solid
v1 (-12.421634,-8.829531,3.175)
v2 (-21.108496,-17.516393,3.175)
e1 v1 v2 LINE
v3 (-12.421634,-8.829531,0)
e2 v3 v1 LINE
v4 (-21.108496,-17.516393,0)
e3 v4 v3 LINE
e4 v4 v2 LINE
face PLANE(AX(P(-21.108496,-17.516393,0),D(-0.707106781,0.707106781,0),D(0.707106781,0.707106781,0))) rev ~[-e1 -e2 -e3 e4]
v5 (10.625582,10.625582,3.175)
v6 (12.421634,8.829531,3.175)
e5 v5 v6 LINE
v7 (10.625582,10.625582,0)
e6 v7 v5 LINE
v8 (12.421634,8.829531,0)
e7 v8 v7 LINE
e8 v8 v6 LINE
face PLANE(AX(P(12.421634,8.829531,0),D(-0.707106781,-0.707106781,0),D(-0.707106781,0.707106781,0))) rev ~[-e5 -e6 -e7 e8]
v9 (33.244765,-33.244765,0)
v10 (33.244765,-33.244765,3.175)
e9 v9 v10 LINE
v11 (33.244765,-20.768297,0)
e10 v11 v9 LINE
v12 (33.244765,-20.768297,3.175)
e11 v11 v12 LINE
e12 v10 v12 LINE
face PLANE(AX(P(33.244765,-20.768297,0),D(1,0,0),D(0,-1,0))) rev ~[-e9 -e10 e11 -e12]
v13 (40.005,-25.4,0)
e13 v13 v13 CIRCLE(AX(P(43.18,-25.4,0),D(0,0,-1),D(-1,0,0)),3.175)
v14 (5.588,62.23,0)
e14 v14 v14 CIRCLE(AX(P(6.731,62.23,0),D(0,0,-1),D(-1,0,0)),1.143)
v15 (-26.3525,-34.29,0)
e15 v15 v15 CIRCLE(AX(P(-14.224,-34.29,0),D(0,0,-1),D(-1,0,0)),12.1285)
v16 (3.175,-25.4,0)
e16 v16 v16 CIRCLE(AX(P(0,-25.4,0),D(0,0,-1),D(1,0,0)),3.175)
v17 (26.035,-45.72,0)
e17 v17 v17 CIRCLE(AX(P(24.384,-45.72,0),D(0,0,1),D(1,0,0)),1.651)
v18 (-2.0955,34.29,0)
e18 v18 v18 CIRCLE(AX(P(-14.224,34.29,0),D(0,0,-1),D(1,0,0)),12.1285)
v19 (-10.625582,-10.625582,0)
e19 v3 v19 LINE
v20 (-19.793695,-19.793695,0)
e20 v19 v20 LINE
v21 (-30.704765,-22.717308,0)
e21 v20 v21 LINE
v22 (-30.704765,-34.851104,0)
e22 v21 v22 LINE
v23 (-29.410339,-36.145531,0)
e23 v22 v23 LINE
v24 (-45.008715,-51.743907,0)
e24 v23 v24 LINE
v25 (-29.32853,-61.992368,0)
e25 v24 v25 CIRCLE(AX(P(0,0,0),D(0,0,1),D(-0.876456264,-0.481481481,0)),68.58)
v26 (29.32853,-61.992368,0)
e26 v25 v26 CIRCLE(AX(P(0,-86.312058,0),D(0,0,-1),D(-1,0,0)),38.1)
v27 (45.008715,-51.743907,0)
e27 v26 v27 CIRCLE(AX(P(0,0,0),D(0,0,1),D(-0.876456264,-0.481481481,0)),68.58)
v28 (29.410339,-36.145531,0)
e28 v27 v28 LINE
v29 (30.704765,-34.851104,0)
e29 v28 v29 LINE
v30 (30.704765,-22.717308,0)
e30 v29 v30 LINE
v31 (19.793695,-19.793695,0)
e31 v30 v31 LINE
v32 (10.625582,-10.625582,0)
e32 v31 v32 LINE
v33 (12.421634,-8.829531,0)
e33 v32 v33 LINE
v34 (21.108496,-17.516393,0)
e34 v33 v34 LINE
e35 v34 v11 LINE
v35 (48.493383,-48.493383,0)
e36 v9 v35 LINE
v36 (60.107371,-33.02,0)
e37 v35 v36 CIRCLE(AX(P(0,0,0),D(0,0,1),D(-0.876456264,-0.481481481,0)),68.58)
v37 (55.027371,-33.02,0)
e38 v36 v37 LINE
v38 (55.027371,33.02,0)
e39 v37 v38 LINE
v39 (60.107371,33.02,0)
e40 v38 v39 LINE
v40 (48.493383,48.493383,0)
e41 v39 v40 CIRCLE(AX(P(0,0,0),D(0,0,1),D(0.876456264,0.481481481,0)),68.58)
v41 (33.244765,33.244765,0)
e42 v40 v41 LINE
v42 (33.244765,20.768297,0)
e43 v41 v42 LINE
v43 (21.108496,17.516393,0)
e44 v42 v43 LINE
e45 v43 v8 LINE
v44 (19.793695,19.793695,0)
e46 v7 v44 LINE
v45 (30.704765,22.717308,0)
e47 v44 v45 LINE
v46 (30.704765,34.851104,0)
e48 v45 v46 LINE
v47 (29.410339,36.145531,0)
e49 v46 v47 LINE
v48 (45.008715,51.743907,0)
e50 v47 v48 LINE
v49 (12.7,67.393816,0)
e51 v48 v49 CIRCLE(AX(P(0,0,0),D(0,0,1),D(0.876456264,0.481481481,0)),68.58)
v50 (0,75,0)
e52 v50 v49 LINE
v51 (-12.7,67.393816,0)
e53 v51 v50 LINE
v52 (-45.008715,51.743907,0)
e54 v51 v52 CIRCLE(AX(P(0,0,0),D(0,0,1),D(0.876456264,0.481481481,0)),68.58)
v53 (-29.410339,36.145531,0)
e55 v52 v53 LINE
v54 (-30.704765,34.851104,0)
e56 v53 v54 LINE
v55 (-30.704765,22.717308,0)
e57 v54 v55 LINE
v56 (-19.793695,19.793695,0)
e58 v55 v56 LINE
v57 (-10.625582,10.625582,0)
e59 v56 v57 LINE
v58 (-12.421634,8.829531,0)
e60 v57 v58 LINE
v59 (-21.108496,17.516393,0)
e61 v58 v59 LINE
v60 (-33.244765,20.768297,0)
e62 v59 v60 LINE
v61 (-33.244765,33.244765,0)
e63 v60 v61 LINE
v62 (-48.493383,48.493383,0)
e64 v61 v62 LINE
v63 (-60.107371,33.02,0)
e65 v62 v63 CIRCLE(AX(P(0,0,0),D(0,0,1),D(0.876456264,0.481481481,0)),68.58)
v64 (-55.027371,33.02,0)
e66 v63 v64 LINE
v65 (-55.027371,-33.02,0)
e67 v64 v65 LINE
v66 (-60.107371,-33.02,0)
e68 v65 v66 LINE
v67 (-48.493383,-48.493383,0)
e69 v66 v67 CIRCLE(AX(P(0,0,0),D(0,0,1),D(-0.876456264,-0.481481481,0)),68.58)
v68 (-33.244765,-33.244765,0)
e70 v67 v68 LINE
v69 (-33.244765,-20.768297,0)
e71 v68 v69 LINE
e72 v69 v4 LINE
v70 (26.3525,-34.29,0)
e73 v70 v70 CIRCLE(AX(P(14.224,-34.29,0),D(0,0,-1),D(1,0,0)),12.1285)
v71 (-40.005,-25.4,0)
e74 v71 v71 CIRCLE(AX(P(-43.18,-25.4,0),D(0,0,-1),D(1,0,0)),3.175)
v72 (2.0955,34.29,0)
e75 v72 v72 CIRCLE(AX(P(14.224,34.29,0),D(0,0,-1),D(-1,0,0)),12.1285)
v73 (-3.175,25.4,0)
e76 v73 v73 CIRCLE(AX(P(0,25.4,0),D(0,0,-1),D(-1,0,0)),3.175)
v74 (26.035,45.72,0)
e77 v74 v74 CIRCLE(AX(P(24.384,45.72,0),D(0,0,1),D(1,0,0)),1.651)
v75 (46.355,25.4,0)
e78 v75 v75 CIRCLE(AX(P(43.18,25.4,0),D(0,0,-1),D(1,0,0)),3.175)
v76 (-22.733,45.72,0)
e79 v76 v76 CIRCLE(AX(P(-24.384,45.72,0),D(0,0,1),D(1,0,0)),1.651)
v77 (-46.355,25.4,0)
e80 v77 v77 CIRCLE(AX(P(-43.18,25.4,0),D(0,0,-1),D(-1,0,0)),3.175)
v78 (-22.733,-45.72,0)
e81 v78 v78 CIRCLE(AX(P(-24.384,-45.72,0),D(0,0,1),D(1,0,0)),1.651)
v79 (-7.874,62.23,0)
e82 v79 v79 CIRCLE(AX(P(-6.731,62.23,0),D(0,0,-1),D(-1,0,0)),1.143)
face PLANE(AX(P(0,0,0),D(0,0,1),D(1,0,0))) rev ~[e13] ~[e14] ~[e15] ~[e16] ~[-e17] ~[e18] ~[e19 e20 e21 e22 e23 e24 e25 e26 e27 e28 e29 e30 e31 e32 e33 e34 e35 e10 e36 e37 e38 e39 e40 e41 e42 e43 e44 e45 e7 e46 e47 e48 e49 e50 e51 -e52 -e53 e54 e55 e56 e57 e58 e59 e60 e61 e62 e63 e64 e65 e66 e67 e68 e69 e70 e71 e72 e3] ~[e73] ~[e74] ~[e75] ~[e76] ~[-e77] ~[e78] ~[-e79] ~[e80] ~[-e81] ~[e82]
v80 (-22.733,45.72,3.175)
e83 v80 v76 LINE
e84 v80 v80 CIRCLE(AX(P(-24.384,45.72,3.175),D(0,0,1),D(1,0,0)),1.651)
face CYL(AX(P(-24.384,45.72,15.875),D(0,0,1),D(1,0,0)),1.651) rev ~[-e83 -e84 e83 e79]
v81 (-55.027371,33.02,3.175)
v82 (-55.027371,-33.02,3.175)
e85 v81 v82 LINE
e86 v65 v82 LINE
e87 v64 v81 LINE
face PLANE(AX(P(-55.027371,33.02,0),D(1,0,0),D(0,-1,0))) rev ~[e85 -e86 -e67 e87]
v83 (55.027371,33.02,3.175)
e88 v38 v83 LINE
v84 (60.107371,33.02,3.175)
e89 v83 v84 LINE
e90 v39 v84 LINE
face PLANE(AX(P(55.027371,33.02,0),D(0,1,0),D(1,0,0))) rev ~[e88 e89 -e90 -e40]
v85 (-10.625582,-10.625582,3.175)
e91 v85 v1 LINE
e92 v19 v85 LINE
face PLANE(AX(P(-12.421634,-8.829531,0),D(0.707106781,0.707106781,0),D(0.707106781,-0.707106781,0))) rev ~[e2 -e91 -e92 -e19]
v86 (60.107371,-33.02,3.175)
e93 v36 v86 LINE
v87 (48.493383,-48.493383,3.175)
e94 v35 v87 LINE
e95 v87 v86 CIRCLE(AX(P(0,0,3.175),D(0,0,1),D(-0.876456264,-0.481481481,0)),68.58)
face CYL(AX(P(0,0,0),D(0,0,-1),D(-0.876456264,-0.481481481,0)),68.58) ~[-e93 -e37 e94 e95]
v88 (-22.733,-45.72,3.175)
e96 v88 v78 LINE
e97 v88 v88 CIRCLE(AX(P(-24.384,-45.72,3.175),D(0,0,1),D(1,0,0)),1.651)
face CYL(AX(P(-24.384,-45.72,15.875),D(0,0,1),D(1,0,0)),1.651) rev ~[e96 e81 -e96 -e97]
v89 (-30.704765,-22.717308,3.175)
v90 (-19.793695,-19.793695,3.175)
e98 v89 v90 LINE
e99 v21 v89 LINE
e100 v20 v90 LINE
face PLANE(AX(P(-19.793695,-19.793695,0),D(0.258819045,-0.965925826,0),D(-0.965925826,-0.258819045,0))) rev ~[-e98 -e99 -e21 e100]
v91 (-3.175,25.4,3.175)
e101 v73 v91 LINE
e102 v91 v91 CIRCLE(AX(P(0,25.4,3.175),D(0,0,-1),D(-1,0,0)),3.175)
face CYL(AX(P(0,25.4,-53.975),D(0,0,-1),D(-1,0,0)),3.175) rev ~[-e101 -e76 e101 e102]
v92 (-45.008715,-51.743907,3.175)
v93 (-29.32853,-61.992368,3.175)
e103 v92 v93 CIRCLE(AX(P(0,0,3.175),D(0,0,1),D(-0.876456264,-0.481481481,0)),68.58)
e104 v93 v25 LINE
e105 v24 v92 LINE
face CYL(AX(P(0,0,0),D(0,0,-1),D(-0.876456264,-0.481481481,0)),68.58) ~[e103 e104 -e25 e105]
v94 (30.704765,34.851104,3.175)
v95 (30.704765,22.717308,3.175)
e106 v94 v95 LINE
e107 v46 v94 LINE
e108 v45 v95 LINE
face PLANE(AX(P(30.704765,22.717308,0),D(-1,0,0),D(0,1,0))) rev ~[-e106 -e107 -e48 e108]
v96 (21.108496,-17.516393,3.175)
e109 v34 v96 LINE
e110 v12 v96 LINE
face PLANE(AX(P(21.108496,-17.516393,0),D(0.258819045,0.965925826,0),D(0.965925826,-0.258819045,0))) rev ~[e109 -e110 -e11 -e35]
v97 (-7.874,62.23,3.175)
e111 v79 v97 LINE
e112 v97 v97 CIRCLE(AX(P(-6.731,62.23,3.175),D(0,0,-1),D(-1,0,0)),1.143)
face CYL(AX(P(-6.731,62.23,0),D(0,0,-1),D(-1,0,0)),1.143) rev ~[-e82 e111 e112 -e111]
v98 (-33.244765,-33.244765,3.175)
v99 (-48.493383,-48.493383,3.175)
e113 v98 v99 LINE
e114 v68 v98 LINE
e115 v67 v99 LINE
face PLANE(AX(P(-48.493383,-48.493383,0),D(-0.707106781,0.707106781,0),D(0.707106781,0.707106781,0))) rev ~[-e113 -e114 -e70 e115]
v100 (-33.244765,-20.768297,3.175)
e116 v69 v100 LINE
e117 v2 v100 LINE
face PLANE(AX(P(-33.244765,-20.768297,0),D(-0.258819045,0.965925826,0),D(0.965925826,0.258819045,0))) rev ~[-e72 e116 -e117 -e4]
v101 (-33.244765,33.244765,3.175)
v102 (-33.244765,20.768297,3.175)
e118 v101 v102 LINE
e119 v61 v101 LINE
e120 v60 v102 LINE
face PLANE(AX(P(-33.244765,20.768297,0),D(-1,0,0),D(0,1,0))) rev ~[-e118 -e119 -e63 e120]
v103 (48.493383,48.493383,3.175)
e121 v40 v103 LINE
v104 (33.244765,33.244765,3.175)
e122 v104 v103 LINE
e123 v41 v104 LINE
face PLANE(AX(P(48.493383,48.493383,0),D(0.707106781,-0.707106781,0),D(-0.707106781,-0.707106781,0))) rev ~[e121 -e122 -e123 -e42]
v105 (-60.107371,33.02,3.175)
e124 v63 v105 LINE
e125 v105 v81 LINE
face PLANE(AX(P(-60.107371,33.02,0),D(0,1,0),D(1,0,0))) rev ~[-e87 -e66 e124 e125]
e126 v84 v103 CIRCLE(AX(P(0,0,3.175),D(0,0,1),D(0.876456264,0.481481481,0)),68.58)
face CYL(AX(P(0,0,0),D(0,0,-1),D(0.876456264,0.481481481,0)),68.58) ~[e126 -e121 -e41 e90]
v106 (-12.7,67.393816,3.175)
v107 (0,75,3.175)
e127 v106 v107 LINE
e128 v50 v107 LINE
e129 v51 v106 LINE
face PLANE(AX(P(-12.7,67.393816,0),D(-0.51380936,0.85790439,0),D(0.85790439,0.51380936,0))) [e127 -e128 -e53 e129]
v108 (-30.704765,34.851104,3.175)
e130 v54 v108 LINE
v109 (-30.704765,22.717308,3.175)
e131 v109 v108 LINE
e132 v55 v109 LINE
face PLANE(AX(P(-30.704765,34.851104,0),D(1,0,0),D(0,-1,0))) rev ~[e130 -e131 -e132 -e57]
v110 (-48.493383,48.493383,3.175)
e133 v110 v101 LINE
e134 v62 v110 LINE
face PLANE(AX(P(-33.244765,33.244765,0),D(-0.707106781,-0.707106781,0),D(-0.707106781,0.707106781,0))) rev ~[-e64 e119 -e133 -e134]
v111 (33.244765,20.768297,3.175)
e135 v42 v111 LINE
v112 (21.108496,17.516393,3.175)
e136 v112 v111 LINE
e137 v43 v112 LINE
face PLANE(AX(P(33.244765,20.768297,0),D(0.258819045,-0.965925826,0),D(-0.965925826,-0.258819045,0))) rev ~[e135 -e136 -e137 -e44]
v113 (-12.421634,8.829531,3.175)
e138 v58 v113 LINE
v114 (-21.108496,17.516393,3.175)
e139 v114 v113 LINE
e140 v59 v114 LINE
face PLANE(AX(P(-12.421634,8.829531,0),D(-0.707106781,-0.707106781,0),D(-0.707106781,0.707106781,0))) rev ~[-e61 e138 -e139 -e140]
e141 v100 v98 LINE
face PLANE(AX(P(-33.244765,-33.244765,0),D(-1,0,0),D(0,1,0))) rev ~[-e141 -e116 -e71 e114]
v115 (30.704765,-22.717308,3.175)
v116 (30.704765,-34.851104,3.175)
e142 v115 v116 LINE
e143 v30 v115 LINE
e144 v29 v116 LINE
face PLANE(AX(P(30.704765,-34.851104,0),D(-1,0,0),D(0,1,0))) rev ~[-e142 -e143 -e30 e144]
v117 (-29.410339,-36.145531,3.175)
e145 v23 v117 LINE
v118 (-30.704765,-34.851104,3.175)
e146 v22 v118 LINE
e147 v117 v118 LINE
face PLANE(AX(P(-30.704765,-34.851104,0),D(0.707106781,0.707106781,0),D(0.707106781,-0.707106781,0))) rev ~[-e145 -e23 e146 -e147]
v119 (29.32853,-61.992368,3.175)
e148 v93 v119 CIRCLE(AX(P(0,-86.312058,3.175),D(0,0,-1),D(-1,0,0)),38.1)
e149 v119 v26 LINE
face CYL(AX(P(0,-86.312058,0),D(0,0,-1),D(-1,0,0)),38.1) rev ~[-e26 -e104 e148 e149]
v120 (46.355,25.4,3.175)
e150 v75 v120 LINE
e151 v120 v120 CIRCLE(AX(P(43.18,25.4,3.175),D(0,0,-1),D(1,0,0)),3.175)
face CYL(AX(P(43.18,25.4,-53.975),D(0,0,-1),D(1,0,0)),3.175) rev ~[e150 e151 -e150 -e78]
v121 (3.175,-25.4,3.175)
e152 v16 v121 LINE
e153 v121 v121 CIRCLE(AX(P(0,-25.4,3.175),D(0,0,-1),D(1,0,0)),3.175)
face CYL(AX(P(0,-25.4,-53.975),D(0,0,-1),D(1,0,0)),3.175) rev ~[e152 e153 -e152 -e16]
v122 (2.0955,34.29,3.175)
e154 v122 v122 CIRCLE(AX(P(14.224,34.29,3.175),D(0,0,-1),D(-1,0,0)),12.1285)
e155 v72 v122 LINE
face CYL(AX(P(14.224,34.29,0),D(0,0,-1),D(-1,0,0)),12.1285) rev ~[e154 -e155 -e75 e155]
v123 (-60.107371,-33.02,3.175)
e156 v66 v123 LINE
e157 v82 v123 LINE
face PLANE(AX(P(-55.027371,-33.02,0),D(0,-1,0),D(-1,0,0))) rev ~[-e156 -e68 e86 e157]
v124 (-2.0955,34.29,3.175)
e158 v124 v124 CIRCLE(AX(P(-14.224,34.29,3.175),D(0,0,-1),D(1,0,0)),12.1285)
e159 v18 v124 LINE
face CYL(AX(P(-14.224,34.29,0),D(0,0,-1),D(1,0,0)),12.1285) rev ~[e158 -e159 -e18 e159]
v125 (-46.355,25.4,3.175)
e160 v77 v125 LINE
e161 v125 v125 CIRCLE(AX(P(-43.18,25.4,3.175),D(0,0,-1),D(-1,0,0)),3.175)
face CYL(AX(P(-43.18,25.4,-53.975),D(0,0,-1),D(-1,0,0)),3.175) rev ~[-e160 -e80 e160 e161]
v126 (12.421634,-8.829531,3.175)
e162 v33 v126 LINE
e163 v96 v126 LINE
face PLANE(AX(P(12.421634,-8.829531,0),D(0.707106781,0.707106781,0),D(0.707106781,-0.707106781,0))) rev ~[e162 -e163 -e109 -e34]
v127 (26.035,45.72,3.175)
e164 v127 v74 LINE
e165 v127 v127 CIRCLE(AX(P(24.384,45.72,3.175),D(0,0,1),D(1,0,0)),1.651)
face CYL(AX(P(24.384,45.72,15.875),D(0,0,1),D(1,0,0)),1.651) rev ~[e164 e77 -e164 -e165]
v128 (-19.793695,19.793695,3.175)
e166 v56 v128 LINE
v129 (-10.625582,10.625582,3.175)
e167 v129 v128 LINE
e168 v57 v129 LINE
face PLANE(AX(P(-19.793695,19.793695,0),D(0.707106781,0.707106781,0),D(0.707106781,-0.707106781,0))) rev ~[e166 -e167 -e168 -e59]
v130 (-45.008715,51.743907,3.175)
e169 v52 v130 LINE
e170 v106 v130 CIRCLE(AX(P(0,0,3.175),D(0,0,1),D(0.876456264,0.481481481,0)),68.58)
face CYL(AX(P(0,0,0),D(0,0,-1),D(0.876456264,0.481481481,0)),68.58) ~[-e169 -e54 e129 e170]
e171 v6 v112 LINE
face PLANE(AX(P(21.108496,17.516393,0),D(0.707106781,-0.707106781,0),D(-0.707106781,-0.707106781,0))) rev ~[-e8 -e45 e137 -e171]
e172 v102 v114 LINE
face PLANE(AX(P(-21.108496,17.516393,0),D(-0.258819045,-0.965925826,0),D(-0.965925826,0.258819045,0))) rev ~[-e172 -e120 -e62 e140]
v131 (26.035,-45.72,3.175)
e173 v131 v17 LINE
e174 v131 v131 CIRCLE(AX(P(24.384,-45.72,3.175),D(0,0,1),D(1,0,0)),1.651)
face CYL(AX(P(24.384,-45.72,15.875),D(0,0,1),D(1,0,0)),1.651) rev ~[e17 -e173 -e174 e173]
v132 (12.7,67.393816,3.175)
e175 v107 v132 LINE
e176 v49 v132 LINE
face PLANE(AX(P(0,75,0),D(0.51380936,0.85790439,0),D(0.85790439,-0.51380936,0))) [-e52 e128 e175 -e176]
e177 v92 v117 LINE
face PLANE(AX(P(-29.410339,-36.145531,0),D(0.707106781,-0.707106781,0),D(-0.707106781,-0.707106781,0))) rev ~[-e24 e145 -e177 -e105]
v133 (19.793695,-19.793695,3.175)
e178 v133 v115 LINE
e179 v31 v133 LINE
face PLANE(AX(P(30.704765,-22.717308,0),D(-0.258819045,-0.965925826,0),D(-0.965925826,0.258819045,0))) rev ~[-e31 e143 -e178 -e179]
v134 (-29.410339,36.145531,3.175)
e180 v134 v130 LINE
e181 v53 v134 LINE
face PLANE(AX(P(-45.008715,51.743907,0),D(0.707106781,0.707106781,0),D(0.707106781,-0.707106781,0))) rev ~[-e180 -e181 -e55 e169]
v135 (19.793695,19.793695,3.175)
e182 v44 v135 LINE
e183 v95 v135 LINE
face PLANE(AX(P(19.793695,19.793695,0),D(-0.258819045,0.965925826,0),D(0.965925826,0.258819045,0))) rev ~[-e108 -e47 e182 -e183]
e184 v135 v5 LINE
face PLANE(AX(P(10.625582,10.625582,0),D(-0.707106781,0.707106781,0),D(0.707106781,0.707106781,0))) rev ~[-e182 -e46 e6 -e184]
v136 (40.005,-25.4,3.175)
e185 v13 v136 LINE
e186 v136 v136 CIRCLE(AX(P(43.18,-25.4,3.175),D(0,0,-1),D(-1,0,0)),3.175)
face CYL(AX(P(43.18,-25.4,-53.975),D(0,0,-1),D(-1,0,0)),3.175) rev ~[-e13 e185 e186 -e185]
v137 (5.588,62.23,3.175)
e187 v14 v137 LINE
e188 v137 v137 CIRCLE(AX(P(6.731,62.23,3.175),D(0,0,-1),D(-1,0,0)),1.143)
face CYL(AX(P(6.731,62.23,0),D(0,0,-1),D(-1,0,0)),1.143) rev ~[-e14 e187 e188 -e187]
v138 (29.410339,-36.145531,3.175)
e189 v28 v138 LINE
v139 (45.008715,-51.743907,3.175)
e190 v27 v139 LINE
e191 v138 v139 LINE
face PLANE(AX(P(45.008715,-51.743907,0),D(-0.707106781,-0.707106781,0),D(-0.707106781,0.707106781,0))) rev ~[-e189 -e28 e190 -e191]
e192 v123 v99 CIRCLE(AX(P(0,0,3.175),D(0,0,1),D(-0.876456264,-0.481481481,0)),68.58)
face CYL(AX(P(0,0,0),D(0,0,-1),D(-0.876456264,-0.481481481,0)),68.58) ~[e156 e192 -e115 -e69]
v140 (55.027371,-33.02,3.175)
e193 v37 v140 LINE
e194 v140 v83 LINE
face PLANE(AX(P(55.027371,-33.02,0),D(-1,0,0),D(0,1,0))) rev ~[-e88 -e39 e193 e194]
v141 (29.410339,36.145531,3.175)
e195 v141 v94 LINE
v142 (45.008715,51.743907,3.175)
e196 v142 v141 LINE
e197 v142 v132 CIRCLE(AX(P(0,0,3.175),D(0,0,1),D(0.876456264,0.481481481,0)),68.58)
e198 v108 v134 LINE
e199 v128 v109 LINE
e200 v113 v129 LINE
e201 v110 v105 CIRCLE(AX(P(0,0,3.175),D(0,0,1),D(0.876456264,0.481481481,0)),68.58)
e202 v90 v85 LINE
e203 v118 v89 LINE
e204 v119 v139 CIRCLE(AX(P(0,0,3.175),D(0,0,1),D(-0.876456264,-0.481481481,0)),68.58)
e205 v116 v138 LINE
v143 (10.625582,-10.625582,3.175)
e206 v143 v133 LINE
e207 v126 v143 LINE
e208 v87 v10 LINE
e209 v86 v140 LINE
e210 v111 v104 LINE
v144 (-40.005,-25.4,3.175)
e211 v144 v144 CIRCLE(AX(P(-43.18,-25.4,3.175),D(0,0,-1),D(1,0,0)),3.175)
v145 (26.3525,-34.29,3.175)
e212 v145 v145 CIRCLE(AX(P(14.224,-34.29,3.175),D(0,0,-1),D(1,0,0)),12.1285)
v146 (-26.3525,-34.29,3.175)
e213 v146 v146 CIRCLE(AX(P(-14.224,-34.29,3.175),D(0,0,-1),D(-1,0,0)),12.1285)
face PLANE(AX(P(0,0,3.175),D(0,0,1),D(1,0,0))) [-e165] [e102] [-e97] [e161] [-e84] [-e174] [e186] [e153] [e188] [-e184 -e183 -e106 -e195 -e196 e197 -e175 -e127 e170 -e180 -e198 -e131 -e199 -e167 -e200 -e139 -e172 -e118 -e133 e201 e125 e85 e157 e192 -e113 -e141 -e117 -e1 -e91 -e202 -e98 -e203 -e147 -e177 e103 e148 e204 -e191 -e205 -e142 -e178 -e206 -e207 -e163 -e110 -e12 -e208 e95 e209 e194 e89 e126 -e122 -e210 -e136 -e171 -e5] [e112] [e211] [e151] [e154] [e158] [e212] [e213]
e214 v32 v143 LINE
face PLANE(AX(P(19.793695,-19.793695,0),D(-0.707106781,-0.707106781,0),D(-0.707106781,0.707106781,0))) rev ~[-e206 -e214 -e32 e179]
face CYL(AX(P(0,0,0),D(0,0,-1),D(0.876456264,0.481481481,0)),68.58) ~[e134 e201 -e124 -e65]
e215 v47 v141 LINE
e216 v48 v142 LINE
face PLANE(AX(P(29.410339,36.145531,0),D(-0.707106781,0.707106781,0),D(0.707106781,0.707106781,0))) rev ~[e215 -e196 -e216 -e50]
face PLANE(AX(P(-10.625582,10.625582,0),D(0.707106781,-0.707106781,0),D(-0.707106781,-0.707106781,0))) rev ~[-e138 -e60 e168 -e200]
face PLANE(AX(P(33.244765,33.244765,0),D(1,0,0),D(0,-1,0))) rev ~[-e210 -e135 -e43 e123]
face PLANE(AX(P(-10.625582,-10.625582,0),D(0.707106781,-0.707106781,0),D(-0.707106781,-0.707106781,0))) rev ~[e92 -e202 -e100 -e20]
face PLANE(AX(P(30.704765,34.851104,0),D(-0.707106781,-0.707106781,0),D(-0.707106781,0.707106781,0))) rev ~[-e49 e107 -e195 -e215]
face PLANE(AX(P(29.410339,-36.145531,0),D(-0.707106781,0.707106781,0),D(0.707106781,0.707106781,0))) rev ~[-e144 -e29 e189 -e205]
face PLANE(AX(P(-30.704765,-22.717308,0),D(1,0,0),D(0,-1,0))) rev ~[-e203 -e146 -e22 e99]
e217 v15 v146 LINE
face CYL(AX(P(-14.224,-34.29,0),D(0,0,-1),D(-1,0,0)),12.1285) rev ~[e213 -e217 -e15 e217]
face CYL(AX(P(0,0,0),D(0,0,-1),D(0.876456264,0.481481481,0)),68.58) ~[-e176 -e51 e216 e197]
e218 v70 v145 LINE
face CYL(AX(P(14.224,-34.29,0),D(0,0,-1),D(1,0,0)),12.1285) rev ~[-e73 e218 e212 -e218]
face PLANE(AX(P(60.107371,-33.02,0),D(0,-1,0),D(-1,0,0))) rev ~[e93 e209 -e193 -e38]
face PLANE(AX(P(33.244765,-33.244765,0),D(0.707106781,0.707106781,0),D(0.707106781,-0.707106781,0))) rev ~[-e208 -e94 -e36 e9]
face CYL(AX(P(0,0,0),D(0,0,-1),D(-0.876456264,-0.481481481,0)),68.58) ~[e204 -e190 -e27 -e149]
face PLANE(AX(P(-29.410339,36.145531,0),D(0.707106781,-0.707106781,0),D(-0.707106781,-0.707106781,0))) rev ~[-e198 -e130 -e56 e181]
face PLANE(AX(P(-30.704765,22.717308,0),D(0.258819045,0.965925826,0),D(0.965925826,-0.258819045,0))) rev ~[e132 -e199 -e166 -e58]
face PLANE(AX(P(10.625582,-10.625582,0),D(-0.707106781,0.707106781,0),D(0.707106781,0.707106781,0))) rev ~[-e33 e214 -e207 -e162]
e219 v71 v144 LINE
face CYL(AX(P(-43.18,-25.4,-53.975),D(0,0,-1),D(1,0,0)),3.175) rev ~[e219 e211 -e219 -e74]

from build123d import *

# Parameters (mm, degrees)
BOSS_EXTRUDE2_DEPTH = 3.175
SKETCH3_R           = 12.1285
CUT_EXTRUDE2_DEPTH  = 92.247975457
SKETCH4_R           = 38.1
CUT_EXTRUDE3_DEPTH  = 92.247975457
CUT_EXTRUDE6_DEPTH  = 92.247975457
BOSS_EXTRUDE3_DEPTH = 3.175
SKETCH12_R          = 1.143
CUT_EXTRUDE9_DEPTH  = 97.166400707
SKETCH13_R          = 1.651
CUT_EXTRUDE10_DEPTH = 55.88
SKETCH14_R          = 3.175
CUT_EXTRUDE11_DEPTH = 129.184225337


with BuildPart() as part:
    # Sketch1 → Boss-Extrude2 (new body)
    with BuildSketch(Plane.XY):
        with BuildLine():
            Line((-60.107370596, 33.02), (-55.027370596, 33.02))
            Line((-55.027370596, 33.02), (-55.027370596, -33.02))
            Line((-55.027370596, -33.02), (-60.107370596, -33.02))
            ThreePointArc((-60.107370596, -33.02), (0, -68.58), (60.107370596, -33.02))
            Line((60.107370596, -33.02), (55.027370596, -33.02))
            Line((55.027370596, -33.02), (55.027370596, 33.02))
            Line((55.027370596, 33.02), (60.107370596, 33.02))
            ThreePointArc((60.107370596, 33.02), (0, 68.58), (-60.107370596, 33.02))
        make_face()
    extrude(amount=BOSS_EXTRUDE2_DEPTH)

    # Sketch3 → Cut-Extrude2 (cut, through all)
    with BuildSketch(Plane(origin=(0, 0, 0), x_dir=(-1, 0, 0), z_dir=(0, 0, -1))):
        with Locations((14.224, -34.29)):
            Circle(SKETCH3_R)
        with Locations(Location((14.224, 34.29, 0), (0, 0, 180))):
            Circle(SKETCH3_R)
        with Locations((-14.224, 34.29)):
            Circle(SKETCH3_R)
        with Locations(Location((-14.224, -34.29, 0), (0, 0, 180))):
            Circle(SKETCH3_R)
    extrude(amount=-CUT_EXTRUDE2_DEPTH, mode=Mode.SUBTRACT)

    # Sketch4 → Cut-Extrude3 (cut, through all)
    with BuildSketch(Plane(origin=(0, 0, 0), x_dir=(-1, 0, 0), z_dir=(0, 0, -1))):
        with Locations((0, -86.312058398)):
            Circle(SKETCH4_R)
    extrude(amount=-CUT_EXTRUDE3_DEPTH, mode=Mode.SUBTRACT)

    # Sketch5 → Cut-Extrude6 (cut, through all)
    with BuildSketch(Plane(origin=(0, 0, 0), x_dir=(-1, 0, 0), z_dir=(0, 0, -1))):
        with BuildLine():
            Line((10.776307345, -10.776307345), (19.793695097, -19.793695097))
            Line((19.793695097, -19.793695097), (30.704765274, -22.71730754))
            Line((30.704765274, -22.71730754), (30.704765274, -34.85110441))
            Line((30.704765274, -34.85110441), (29.410338797, -36.145530887))
            Line((29.410338797, -36.145530887), (45.008715274, -51.743907365))
            ThreePointArc((45.008715274, -51.743907365), (46.779291091, -50.148921474), (48.493383054, -48.493383054))
            Line((48.493383054, -48.493383054), (33.244765274, -33.244765274))
            Line((33.244765274, -33.244765274), (33.244765274, -20.76829699))
            Line((33.244765274, -20.76829699), (21.108495846, -17.516393398))
            Line((21.108495846, -17.516393398), (12.421633561, -8.829531113))
            Line((12.421633561, -8.829531113), (10.625582337, -10.625582337))
            Line((10.625582337, -10.625582337), (10.776307345, -10.776307345))
        make_face()
        with BuildLine():
            Line((-10.776307345, -10.776307345), (-10.625582337, -10.625582337))
            Line((-10.625582337, -10.625582337), (-12.421633561, -8.829531113))
            Line((-12.421633561, -8.829531113), (-21.108495846, -17.516393398))
            Line((-21.108495846, -17.516393398), (-33.244765274, -20.76829699))
            Line((-33.244765274, -20.76829699), (-33.244765274, -33.244765274))
            Line((-33.244765274, -33.244765274), (-48.493383054, -48.493383054))
            ThreePointArc((-48.493383054, -48.493383054), (-46.779291091, -50.148921474), (-45.008715274, -51.743907365))
            Line((-45.008715274, -51.743907365), (-29.410338797, -36.145530887))
            Line((-29.410338797, -36.145530887), (-30.704765274, -34.85110441))
            Line((-30.704765274, -34.85110441), (-30.704765274, -22.71730754))
            Line((-30.704765274, -22.71730754), (-19.793695097, -19.793695097))
            Line((-19.793695097, -19.793695097), (-10.776307345, -10.776307345))
        make_face()
        with BuildLine():
            Line((-10.776307345, 10.776307345), (-19.793695097, 19.793695097))
            Line((-19.793695097, 19.793695097), (-30.704765274, 22.71730754))
            Line((-30.704765274, 22.71730754), (-30.704765274, 34.85110441))
            Line((-30.704765274, 34.85110441), (-29.410338797, 36.145530887))
            Line((-29.410338797, 36.145530887), (-45.008715274, 51.743907365))
            ThreePointArc((-45.008715274, 51.743907365), (-46.779291091, 50.148921474), (-48.493383054, 48.493383054))
            Line((-48.493383054, 48.493383054), (-33.244765274, 33.244765274))
            Line((-33.244765274, 33.244765274), (-33.244765274, 20.76829699))
            Line((-33.244765274, 20.76829699), (-21.108495846, 17.516393398))
            Line((-21.108495846, 17.516393398), (-12.421633561, 8.829531113))
            Line((-12.421633561, 8.829531113), (-10.625582337, 10.625582337))
            Line((-10.625582337, 10.625582337), (-10.776307345, 10.776307345))
        make_face()
        with BuildLine():
            ThreePointArc((48.493383054, 48.493383054), (46.779291091, 50.148921474), (45.008715274, 51.743907365))
            Line((45.008715274, 51.743907365), (29.410338797, 36.145530887))
            Line((29.410338797, 36.145530887), (30.704765274, 34.85110441))
            Line((30.704765274, 34.85110441), (30.704765274, 22.71730754))
            Line((30.704765274, 22.71730754), (19.793695097, 19.793695097))
            Line((19.793695097, 19.793695097), (10.776307345, 10.776307345))
            Line((10.776307345, 10.776307345), (10.625582337, 10.625582337))
            Line((10.625582337, 10.625582337), (12.421633561, 8.829531113))
            Line((12.421633561, 8.829531113), (21.108495846, 17.516393398))
            Line((21.108495846, 17.516393398), (33.244765274, 20.76829699))
            Line((33.244765274, 20.76829699), (33.244765274, 33.244765274))
            Line((33.244765274, 33.244765274), (48.493383054, 48.493383054))
        make_face()
    extrude(amount=-CUT_EXTRUDE6_DEPTH, mode=Mode.SUBTRACT)

    # Sketch9 → Boss-Extrude3 (add)
    with BuildSketch(Plane(origin=(0, 0, 0), x_dir=(-1, 0, 0), z_dir=(0, 0, -1))):
        with BuildLine():
            Line((12.7, 67.39381574), (0, 75))
            Line((0, 75), (-12.7, 67.39381574))
            ThreePointArc((-12.7, 67.39381574), (0, 68.58), (12.7, 67.39381574))
        make_face()
    extrude(amount=-BOSS_EXTRUDE3_DEPTH)

    # Sketch12 → Cut-Extrude9 (cut, through all)
    with BuildSketch(Plane(origin=(0, 0, 0), x_dir=(-1, 0, 0), z_dir=(0, 0, -1))):
        with Locations((6.731, 62.23)):
            Circle(SKETCH12_R)
        with Locations((-6.731, 62.23)):
            Circle(SKETCH12_R)
    extrude(amount=-CUT_EXTRUDE9_DEPTH, mode=Mode.SUBTRACT)

    # Sketch13 → Cut-Extrude10 (cut)
    with BuildSketch(Plane(origin=(30.092005081, 4.08352975, 15.875), x_dir=(1, 0, 0), z_dir=(0, 0, 1))):
        with Locations((-54.476005081, -49.80352975)):
            Circle(SKETCH13_R)
        with Locations((-54.476005081, 41.63647025)):
            Circle(SKETCH13_R)
        with Locations((-5.708005081, -49.80352975)):
            Circle(SKETCH13_R)
        with Locations((-5.708005081, 41.63647025)):
            Circle(SKETCH13_R)
    extrude(amount=-CUT_EXTRUDE10_DEPTH, mode=Mode.SUBTRACT)

    # Sketch14 → Cut-Extrude11 (cut, through all)
    with BuildSketch(Plane(origin=(30.092005081, 4.08352975, -53.975), x_dir=(-1, 0, 0), z_dir=(0, 0, -1))):
        with Locations(Location((-13.087994919, 21.31647025, 0), (0, 0, 180))):
            Circle(SKETCH14_R)
        with Locations((73.272005081, 21.31647025)):
            Circle(SKETCH14_R)
        with Locations((30.092005081, 21.31647025)):
            Circle(SKETCH14_R)
        with Locations(Location((73.272005081, -29.48352975, 0), (0, 0, 180))):
            Circle(SKETCH14_R)
        with Locations(Location((30.092005081, -29.48352975, 0), (0, 0, 180))):
            Circle(SKETCH14_R)
        with Locations((-13.087994919, -29.48352975)):
            Circle(SKETCH14_R)
    extrude(amount=-CUT_EXTRUDE11_DEPTH, mode=Mode.SUBTRACT)


solid = part.part
